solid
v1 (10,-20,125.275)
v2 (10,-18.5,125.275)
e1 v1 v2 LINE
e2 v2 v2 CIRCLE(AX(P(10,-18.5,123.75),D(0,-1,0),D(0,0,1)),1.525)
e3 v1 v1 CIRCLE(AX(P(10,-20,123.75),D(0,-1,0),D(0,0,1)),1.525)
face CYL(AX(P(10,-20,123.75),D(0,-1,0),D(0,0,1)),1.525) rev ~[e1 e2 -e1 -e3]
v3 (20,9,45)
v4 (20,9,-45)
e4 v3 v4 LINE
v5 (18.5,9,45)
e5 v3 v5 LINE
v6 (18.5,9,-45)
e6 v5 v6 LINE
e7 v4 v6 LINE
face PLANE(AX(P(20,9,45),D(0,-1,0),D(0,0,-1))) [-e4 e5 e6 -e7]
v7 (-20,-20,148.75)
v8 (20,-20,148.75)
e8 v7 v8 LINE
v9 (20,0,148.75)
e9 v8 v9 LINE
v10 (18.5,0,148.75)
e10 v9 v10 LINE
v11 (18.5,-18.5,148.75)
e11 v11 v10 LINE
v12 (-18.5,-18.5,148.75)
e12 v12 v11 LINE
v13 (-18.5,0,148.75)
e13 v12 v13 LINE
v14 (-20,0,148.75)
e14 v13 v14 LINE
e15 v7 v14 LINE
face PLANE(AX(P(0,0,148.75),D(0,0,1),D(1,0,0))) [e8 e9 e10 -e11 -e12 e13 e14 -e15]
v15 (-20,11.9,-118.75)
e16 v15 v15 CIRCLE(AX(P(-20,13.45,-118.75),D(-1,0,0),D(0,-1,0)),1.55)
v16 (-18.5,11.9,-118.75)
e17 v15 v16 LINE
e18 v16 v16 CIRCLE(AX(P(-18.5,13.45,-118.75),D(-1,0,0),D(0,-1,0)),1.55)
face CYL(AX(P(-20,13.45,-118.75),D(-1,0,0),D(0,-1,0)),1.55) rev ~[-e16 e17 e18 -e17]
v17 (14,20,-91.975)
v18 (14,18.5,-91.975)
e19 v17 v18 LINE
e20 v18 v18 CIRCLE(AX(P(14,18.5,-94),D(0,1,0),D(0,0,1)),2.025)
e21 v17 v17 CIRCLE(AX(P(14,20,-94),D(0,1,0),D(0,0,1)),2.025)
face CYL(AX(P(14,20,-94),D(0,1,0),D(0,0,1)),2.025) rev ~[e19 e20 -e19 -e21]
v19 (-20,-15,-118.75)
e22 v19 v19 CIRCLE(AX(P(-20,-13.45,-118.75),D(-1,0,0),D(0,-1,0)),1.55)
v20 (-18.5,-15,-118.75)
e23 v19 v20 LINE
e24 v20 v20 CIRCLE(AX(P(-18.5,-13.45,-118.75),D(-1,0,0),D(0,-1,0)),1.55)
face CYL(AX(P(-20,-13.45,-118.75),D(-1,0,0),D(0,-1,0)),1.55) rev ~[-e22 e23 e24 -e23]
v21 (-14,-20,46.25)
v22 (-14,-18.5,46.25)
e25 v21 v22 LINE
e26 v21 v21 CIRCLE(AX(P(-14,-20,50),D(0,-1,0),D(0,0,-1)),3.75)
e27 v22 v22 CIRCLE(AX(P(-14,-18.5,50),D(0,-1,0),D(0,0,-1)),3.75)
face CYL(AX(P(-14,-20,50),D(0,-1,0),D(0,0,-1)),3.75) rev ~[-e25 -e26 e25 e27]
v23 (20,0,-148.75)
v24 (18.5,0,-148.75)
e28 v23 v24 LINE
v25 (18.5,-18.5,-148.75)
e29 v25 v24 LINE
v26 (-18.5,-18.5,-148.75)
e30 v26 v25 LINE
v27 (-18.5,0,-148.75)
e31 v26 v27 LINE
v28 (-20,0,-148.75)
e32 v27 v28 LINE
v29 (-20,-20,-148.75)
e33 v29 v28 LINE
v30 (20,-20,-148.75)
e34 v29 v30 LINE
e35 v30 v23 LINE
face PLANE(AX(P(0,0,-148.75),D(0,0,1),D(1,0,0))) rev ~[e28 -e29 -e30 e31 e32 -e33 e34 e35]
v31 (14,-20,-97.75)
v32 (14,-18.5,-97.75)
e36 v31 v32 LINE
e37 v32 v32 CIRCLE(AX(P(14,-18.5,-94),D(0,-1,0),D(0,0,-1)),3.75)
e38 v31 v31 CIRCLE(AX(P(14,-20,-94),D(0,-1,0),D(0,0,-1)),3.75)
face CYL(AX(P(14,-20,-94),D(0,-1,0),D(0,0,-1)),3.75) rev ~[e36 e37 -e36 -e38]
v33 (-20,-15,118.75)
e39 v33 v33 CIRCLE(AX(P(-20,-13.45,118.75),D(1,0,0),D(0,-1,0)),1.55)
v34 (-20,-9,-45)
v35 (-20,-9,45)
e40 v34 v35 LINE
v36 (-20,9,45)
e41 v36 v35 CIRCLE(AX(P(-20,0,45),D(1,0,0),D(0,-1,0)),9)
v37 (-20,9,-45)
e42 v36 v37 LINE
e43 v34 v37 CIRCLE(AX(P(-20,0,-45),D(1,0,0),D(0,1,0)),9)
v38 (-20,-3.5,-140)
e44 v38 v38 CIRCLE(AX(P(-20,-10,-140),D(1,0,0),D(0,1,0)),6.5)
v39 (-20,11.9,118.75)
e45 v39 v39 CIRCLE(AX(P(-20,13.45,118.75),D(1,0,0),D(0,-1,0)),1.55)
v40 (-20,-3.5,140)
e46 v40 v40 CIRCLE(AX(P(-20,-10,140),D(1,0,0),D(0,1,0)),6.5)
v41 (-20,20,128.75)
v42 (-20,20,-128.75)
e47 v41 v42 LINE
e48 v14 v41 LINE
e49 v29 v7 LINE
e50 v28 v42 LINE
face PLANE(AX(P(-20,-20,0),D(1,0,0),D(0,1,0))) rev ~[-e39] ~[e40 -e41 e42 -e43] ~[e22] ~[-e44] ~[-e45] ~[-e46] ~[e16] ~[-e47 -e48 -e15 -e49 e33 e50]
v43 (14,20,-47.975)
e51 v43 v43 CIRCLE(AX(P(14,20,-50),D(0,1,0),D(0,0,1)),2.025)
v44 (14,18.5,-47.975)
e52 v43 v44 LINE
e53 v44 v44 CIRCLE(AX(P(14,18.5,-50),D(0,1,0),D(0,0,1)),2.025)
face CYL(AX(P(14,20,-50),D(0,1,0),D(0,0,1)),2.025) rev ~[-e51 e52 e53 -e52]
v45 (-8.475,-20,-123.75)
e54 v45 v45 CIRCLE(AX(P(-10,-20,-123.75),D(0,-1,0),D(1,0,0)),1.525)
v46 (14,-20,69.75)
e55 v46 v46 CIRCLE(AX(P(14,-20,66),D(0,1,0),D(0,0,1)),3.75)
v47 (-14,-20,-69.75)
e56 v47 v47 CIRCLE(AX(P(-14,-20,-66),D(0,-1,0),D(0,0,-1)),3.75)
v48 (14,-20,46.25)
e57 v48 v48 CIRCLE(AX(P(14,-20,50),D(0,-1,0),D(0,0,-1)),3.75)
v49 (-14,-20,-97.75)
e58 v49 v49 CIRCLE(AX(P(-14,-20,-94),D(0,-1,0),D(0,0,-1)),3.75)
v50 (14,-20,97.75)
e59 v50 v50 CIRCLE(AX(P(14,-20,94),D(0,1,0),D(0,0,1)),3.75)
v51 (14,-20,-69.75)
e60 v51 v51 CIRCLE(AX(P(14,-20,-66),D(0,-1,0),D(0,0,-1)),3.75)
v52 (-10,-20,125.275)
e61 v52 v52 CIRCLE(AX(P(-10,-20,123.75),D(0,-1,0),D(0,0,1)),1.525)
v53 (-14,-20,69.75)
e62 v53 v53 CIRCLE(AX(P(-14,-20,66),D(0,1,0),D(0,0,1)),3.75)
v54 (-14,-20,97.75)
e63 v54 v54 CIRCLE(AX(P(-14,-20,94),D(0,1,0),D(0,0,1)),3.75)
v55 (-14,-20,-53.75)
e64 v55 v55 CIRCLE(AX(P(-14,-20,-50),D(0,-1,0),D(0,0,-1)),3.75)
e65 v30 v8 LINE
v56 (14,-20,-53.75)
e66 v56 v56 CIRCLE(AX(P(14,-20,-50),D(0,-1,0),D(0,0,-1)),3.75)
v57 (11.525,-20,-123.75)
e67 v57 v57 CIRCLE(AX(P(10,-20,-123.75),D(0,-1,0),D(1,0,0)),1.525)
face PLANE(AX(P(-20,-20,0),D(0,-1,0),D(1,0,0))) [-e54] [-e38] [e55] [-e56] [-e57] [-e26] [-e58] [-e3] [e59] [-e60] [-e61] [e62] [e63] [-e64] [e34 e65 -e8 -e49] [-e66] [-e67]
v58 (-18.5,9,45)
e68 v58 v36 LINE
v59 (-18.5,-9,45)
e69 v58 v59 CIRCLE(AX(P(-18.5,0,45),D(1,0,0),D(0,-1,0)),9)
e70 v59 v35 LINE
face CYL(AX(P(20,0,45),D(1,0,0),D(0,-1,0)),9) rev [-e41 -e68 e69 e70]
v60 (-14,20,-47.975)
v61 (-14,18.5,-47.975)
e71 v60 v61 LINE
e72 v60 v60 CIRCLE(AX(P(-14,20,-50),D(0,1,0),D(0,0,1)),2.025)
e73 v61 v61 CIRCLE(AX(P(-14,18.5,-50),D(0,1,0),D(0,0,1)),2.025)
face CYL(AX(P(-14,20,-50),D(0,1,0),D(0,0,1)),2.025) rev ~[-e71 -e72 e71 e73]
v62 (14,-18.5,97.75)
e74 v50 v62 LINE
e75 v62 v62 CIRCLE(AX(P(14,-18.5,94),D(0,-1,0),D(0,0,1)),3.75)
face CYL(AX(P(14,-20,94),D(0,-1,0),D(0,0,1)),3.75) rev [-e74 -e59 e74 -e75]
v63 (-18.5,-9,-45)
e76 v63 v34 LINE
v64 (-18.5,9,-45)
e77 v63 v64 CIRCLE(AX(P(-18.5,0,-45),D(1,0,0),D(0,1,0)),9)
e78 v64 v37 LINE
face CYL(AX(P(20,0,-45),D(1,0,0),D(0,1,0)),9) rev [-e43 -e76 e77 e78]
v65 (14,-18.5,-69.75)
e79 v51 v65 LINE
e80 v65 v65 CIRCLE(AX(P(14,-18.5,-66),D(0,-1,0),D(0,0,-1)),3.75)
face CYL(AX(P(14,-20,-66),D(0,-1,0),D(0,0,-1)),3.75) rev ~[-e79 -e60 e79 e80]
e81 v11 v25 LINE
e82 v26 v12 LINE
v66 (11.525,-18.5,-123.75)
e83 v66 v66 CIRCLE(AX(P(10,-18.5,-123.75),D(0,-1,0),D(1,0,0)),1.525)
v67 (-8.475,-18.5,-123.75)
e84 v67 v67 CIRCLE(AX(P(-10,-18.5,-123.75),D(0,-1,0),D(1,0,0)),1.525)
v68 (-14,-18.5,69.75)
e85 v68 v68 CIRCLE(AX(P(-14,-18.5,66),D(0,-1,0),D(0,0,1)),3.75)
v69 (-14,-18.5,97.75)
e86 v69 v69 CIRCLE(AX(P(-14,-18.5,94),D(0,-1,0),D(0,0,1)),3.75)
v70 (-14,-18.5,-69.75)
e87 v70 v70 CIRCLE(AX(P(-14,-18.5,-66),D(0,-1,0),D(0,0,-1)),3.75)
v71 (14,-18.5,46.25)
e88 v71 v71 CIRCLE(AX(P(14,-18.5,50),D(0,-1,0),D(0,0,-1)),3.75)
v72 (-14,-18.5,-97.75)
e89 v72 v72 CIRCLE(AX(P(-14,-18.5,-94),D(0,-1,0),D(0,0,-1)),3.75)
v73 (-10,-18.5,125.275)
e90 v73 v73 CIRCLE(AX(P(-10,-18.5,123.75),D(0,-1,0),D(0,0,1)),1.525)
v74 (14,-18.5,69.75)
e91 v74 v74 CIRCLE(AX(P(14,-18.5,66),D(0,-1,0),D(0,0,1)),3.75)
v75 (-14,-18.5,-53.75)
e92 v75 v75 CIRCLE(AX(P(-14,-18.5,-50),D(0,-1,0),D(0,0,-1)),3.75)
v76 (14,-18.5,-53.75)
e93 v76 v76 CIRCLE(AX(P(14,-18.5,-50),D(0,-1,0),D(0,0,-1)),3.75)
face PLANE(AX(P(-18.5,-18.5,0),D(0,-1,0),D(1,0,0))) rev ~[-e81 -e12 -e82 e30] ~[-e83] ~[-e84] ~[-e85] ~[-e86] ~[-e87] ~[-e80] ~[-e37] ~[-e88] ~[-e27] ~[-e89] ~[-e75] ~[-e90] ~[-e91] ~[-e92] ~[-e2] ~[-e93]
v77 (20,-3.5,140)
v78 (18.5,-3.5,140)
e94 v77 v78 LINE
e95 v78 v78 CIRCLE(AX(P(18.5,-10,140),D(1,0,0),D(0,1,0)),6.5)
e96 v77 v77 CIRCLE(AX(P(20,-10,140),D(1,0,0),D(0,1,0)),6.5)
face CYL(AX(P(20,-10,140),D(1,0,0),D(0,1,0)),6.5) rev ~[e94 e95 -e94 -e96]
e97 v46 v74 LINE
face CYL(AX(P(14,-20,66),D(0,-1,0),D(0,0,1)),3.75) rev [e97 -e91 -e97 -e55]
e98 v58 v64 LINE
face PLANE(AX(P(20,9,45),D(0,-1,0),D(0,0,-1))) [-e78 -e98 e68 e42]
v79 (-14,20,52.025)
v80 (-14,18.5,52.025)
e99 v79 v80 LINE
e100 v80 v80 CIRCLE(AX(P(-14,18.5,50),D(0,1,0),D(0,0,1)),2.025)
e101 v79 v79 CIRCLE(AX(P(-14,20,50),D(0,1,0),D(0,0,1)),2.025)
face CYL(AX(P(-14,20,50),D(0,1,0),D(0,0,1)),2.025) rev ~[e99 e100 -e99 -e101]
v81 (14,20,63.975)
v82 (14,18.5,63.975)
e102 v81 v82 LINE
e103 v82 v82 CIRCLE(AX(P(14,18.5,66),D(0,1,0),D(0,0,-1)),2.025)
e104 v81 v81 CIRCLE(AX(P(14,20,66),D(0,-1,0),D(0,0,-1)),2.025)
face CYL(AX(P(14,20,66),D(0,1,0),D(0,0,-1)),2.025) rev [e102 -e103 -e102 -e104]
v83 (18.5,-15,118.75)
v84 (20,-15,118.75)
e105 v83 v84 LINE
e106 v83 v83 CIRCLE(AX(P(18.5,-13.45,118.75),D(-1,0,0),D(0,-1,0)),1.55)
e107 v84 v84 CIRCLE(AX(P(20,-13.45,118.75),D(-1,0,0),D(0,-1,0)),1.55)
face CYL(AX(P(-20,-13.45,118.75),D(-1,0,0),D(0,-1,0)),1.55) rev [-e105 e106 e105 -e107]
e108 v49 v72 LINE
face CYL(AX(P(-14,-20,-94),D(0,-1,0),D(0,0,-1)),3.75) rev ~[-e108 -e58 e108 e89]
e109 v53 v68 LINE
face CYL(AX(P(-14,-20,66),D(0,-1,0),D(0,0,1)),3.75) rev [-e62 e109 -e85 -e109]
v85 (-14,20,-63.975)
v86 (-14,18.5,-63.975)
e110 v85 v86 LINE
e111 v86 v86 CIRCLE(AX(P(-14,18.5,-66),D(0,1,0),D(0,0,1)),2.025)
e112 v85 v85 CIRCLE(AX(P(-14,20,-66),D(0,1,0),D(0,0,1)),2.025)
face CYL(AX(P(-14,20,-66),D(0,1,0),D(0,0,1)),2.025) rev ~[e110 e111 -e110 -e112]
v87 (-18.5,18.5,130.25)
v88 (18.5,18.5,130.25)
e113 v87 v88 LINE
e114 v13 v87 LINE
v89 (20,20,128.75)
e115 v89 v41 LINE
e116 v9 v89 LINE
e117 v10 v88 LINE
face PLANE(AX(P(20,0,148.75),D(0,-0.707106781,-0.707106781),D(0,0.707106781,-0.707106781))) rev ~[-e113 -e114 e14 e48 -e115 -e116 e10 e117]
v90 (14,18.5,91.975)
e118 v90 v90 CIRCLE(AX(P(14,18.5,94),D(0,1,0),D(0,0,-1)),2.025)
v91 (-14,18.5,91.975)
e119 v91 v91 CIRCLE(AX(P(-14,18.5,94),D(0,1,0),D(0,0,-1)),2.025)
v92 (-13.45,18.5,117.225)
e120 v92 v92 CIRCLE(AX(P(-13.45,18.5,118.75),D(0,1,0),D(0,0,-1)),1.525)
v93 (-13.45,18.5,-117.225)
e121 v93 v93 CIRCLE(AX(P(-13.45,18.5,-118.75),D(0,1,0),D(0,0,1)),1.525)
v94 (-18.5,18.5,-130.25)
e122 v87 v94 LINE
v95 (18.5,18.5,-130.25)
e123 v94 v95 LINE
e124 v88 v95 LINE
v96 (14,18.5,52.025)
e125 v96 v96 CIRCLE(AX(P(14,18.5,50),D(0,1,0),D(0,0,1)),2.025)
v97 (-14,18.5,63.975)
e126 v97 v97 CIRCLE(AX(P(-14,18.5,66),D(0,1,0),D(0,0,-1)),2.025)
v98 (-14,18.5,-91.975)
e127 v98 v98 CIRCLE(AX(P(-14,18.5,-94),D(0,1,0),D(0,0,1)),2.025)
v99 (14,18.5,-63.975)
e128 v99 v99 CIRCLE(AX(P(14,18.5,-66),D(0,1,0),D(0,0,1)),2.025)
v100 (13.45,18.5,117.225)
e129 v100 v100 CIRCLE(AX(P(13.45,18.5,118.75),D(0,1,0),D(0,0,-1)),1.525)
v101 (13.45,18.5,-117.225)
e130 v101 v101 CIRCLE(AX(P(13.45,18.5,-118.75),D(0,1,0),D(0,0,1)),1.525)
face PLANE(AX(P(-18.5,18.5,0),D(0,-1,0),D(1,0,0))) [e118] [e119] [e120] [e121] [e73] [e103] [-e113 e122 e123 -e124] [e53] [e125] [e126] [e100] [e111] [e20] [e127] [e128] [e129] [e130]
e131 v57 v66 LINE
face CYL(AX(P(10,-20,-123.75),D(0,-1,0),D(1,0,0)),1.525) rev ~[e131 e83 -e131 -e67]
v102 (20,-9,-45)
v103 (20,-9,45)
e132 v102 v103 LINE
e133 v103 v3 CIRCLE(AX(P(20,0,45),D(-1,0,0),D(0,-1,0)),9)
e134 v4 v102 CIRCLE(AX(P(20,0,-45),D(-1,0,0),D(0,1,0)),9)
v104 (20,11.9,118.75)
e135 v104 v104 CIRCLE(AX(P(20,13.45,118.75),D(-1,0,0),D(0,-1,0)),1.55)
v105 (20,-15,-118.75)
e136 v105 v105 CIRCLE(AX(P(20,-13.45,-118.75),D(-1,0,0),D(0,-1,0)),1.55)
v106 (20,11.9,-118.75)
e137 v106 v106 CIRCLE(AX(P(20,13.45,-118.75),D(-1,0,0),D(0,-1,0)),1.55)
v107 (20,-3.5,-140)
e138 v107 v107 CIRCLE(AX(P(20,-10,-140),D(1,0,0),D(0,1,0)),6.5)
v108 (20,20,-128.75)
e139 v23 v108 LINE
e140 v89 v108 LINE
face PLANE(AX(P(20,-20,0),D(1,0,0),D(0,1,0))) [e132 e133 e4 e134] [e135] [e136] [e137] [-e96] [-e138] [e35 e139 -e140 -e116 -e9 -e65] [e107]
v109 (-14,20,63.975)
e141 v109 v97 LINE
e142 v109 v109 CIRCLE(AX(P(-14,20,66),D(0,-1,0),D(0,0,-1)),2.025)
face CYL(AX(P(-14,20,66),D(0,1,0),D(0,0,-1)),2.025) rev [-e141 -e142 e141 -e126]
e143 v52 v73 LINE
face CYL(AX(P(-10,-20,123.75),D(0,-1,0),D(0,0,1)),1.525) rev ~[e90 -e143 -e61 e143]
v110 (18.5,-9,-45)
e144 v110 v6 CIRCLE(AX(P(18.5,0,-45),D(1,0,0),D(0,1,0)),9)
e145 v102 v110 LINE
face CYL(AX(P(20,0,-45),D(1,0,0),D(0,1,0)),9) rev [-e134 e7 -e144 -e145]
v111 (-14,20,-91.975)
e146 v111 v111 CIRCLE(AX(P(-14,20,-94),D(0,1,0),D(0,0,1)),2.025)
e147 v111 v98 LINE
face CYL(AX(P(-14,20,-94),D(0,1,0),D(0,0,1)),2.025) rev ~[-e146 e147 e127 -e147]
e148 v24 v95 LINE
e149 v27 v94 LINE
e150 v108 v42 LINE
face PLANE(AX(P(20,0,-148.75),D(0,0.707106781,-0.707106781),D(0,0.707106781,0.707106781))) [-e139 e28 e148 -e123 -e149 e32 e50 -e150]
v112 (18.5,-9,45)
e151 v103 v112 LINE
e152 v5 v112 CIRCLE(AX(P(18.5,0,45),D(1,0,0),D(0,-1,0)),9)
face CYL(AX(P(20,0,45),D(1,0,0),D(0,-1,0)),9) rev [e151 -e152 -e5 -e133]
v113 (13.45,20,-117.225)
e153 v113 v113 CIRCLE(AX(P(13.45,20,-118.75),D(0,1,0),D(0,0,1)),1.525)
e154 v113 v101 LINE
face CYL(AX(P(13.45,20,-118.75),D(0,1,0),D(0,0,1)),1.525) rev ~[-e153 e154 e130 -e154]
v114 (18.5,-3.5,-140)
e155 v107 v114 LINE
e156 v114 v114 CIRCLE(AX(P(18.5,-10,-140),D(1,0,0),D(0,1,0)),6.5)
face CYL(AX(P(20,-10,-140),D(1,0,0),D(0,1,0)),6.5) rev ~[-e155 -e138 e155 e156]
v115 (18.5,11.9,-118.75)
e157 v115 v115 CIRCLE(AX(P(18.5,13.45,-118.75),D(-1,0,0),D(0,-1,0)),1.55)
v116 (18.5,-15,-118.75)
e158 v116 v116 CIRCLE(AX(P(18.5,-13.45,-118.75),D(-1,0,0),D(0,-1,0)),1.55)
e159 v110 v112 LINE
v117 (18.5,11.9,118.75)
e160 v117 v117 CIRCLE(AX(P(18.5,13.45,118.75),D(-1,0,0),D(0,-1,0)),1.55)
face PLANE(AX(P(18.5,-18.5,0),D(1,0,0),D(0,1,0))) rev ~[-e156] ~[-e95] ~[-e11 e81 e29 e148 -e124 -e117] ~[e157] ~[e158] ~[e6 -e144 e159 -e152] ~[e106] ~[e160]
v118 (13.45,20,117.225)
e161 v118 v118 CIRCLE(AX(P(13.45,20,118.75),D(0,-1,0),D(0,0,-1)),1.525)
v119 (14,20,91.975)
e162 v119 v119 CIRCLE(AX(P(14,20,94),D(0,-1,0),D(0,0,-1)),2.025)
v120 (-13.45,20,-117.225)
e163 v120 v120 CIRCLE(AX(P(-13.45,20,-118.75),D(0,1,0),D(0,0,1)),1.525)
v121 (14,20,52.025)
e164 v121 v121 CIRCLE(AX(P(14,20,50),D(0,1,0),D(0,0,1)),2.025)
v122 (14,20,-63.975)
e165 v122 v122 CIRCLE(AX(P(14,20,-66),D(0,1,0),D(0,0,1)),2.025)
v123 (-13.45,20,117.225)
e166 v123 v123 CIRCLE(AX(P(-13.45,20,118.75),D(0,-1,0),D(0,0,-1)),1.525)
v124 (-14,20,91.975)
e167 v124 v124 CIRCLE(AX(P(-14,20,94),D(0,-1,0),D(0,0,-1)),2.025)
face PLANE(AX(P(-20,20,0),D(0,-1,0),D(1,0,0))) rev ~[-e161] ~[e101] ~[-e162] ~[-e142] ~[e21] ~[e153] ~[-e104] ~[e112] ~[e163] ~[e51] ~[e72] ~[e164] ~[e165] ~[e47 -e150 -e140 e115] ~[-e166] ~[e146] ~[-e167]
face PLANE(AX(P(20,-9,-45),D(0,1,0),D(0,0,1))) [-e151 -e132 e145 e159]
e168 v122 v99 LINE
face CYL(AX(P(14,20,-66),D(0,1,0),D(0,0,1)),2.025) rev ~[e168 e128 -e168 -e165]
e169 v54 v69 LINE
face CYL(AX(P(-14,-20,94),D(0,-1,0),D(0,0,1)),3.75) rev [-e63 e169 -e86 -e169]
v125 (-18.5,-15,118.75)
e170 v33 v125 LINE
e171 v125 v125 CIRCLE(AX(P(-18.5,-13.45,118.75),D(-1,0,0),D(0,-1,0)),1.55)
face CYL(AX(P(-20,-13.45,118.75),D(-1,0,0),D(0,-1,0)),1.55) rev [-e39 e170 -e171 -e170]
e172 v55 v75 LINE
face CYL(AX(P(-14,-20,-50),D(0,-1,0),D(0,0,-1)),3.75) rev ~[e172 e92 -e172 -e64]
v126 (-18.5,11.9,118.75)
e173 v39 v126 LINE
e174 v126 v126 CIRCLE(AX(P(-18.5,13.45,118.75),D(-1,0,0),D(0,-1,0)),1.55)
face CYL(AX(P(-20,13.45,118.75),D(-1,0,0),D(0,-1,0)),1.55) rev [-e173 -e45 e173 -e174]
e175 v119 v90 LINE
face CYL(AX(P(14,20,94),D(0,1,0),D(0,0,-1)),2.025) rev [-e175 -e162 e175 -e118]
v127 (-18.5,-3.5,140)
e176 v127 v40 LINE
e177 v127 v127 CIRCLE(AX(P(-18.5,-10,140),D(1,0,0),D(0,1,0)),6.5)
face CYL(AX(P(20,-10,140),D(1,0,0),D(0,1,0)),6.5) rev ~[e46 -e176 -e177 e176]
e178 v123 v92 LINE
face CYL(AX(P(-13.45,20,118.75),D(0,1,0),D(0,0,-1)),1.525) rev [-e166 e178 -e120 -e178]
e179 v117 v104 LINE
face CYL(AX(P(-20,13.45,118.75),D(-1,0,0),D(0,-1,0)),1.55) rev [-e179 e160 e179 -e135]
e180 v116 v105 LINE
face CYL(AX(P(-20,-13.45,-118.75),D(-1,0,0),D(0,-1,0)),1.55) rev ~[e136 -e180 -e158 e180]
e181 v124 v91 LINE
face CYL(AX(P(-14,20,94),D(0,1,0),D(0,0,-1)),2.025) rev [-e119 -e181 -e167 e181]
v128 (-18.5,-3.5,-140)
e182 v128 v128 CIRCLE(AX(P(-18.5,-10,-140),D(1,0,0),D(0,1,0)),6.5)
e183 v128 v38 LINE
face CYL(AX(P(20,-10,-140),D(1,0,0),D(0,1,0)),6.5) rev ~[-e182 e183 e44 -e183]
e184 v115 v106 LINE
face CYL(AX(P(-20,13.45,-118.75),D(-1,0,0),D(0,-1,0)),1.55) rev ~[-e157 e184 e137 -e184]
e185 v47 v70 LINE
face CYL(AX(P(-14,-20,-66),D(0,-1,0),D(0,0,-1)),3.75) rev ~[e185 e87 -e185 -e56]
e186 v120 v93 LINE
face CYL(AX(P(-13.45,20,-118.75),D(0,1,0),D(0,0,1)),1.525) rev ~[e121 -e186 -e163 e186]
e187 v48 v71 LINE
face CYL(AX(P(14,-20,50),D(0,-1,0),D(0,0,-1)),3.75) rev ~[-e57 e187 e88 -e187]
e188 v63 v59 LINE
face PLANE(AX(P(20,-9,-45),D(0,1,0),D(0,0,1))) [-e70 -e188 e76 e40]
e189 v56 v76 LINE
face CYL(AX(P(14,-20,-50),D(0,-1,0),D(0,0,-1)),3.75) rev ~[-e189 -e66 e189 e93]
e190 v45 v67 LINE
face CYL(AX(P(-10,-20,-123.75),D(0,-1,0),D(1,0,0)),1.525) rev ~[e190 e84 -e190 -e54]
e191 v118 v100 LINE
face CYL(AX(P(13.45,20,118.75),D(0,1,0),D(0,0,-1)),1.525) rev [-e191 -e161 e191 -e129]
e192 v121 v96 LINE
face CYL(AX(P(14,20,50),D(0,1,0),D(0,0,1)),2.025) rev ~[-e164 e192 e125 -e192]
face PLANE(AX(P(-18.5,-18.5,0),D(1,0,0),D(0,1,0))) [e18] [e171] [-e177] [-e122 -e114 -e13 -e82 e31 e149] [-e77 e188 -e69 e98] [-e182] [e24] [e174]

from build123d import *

# Parameters (mm, degrees)
SKETCH_1_W          = 40
SKETCH_1_H          = 40
SKETCH_1_W_2        = 37
SKETCH_1_H_2        = 37
EXTRUDE_1_DEPTH     = 148.75
SKETCH_2_R          = 6.5
CUT_EXTRUDE_1_DEPTH = 45
SKETCH_3_R          = 2.025
CUT_EXTRUDE_2_DEPTH = 50
SKETCH_4_R          = 3.75
CUT_EXTRUDE_3_DEPTH = 3
SKETCH_5_R          = 2.025
CUT_EXTRUDE_4_DEPTH = 60
SKETCH_6_R          = 3.75
CUT_EXTRUDE_5_DEPTH = 3
SKETCH_7_R          = 1.55
CUT_EXTRUDE_6_DEPTH = 55
SKETCH_8_R          = 1.525
CUT_EXTRUDE_7_DEPTH = 20
SKETCH_9_R          = 1.525
CUT_EXTRUDE_8_DEPTH = 3


with BuildPart() as part:
    # 草图1 → 凸台-拉伸1 (new, symmetric)
    with BuildSketch(Plane.XY):
        Rectangle(SKETCH_1_W, SKETCH_1_H)
        Rectangle(SKETCH_1_W_2, SKETCH_1_H_2, mode=Mode.SUBTRACT)
    extrude(amount=EXTRUDE_1_DEPTH, both=True)

    # 草图2 → 切除-拉伸1 (cut)
    with BuildSketch(Plane(origin=(20, 0, 0), x_dir=(0, 0, -1), z_dir=(1, 0, 0))):
        with Locations(Location((-140, -10, 0), (0, 0, 90))):
            Circle(SKETCH_2_R)
        with Locations(Location((140, -10, 0), (0, 0, 90))):
            Circle(SKETCH_2_R)
        Polygon((-148.75, 0), (-128.75, 20), (-148.75, 20), align=None)
        with BuildLine():
            Line((-45, 9), (45, 9))
            ThreePointArc((45, 9), (54, 0), (45, -9))
            Line((45, -9), (-45, -9))
            ThreePointArc((-45, -9), (-54, 0), (-45, 9))
        make_face()
        Polygon((128.75, 20), (148.75, 20), (148.75, 0), align=None)
    extrude(amount=-CUT_EXTRUDE_1_DEPTH, mode=Mode.SUBTRACT)

    # 草图3 → 切除-拉伸2 (cut)
    with BuildSketch(Plane(origin=(0, 20, 0), x_dir=(1, 0, 0), z_dir=(0, 1, 0))):
        with Locations(Location((-14, 50, 0), (0, 0, 270))):
            Circle(SKETCH_3_R)
        with Locations(Location((14, 50, 0), (0, 0, 270))):
            Circle(SKETCH_3_R)
        with Locations(Location((14, -50, 0), (0, 0, 270))):
            Circle(SKETCH_3_R)
        with Locations(Location((-14, -50, 0), (0, 0, 270))):
            Circle(SKETCH_3_R)
    extrude(amount=-CUT_EXTRUDE_2_DEPTH, mode=Mode.SUBTRACT)

    # 草图4 → 切除-拉伸3 (cut)
    with BuildSketch(Plane.XZ.offset(20)):
        with Locations(Location((-14, 50, 0), (0, 0, 270))):
            Circle(SKETCH_4_R)
        with Locations(Location((14, 50, 0), (0, 0, 270))):
            Circle(SKETCH_4_R)
        with Locations(Location((-14, -50, 0), (0, 0, 270))):
            Circle(SKETCH_4_R)
        with Locations(Location((14, -50, 0), (0, 0, 270))):
            Circle(SKETCH_4_R)
    extrude(amount=-CUT_EXTRUDE_3_DEPTH, mode=Mode.SUBTRACT)

    # 草图5 → 切除-拉伸4 (cut)
    with BuildSketch(Plane(origin=(0, 20, 0), x_dir=(1, 0, 0), z_dir=(0, 1, 0))):
        with Locations(Location((-14, 94, 0), (0, 0, 270))):
            Circle(SKETCH_5_R)
        with Locations(Location((14, 94, 0), (0, 0, 270))):
            Circle(SKETCH_5_R)
        with Locations(Location((14, 66, 0), (0, 0, 270))):
            Circle(SKETCH_5_R)
        with Locations(Location((-14, 66, 0), (0, 0, 270))):
            Circle(SKETCH_5_R)
    cut_extrude_4 = extrude(amount=-CUT_EXTRUDE_4_DEPTH, mode=Mode.SUBTRACT)

    # 草图6 → 切除-拉伸5 (cut)
    with BuildSketch(Plane.XZ.offset(20)):
        with Locations(Location((-14, -66, 0), (0, 0, 270))):
            Circle(SKETCH_6_R)
        with Locations(Location((14, -66, 0), (0, 0, 270))):
            Circle(SKETCH_6_R)
        with Locations(Location((-14, -94, 0), (0, 0, 270))):
            Circle(SKETCH_6_R)
        with Locations(Location((14, -94, 0), (0, 0, 270))):
            Circle(SKETCH_6_R)
    cut_extrude_5 = extrude(amount=-CUT_EXTRUDE_5_DEPTH, mode=Mode.SUBTRACT)

    # 镜向1: 切除-拉伸4, 切除-拉伸5 across plane
    add(cut_extrude_4.mirror(Plane.XY), mode=Mode.SUBTRACT)
    add(cut_extrude_5.mirror(Plane.XY), mode=Mode.SUBTRACT)

    # 草图7 → 切除-拉伸6 (cut)
    with BuildSketch(Plane.ZY.offset(20)):
        with Locations(Location((-118.75, 13.45, 0), (0, 0, 270))):
            Circle(SKETCH_7_R)
        with Locations(Location((-118.75, -13.45, 0), (0, 0, 270))):
            Circle(SKETCH_7_R)
    cut_extrude_6 = extrude(amount=-CUT_EXTRUDE_6_DEPTH, mode=Mode.SUBTRACT)

    # 草图8 → 切除-拉伸7 (cut)
    with BuildSketch(Plane(origin=(0, 20, 0), x_dir=(1, 0, 0), z_dir=(0, 1, 0))):
        with Locations(Location((-13.45, 118.75, 0), (0, 0, 270))):
            Circle(SKETCH_8_R)
        with Locations(Location((13.45, 118.75, 0), (0, 0, 270))):
            Circle(SKETCH_8_R)
    cut_extrude_7 = extrude(amount=-CUT_EXTRUDE_7_DEPTH, mode=Mode.SUBTRACT)

    # 镜向2: 切除-拉伸6, 切除-拉伸7 across plane
    add(cut_extrude_6.mirror(Plane.XY), mode=Mode.SUBTRACT)
    add(cut_extrude_7.mirror(Plane.XY), mode=Mode.SUBTRACT)

    # 草图9 → 切除-拉伸8 (cut)
    with BuildSketch(Plane.XZ.offset(20)):
        with Locations((-10, -123.75)):
            Circle(SKETCH_9_R)
        with Locations((10, -123.75)):
            Circle(SKETCH_9_R)
        with Locations(Location((10, 123.75, 0), (0, 0, 90))):
            Circle(SKETCH_9_R)
        with Locations(Location((-10, 123.75, 0), (0, 0, 90))):
            Circle(SKETCH_9_R)
    extrude(amount=-CUT_EXTRUDE_8_DEPTH, mode=Mode.SUBTRACT)


solid = part.part
